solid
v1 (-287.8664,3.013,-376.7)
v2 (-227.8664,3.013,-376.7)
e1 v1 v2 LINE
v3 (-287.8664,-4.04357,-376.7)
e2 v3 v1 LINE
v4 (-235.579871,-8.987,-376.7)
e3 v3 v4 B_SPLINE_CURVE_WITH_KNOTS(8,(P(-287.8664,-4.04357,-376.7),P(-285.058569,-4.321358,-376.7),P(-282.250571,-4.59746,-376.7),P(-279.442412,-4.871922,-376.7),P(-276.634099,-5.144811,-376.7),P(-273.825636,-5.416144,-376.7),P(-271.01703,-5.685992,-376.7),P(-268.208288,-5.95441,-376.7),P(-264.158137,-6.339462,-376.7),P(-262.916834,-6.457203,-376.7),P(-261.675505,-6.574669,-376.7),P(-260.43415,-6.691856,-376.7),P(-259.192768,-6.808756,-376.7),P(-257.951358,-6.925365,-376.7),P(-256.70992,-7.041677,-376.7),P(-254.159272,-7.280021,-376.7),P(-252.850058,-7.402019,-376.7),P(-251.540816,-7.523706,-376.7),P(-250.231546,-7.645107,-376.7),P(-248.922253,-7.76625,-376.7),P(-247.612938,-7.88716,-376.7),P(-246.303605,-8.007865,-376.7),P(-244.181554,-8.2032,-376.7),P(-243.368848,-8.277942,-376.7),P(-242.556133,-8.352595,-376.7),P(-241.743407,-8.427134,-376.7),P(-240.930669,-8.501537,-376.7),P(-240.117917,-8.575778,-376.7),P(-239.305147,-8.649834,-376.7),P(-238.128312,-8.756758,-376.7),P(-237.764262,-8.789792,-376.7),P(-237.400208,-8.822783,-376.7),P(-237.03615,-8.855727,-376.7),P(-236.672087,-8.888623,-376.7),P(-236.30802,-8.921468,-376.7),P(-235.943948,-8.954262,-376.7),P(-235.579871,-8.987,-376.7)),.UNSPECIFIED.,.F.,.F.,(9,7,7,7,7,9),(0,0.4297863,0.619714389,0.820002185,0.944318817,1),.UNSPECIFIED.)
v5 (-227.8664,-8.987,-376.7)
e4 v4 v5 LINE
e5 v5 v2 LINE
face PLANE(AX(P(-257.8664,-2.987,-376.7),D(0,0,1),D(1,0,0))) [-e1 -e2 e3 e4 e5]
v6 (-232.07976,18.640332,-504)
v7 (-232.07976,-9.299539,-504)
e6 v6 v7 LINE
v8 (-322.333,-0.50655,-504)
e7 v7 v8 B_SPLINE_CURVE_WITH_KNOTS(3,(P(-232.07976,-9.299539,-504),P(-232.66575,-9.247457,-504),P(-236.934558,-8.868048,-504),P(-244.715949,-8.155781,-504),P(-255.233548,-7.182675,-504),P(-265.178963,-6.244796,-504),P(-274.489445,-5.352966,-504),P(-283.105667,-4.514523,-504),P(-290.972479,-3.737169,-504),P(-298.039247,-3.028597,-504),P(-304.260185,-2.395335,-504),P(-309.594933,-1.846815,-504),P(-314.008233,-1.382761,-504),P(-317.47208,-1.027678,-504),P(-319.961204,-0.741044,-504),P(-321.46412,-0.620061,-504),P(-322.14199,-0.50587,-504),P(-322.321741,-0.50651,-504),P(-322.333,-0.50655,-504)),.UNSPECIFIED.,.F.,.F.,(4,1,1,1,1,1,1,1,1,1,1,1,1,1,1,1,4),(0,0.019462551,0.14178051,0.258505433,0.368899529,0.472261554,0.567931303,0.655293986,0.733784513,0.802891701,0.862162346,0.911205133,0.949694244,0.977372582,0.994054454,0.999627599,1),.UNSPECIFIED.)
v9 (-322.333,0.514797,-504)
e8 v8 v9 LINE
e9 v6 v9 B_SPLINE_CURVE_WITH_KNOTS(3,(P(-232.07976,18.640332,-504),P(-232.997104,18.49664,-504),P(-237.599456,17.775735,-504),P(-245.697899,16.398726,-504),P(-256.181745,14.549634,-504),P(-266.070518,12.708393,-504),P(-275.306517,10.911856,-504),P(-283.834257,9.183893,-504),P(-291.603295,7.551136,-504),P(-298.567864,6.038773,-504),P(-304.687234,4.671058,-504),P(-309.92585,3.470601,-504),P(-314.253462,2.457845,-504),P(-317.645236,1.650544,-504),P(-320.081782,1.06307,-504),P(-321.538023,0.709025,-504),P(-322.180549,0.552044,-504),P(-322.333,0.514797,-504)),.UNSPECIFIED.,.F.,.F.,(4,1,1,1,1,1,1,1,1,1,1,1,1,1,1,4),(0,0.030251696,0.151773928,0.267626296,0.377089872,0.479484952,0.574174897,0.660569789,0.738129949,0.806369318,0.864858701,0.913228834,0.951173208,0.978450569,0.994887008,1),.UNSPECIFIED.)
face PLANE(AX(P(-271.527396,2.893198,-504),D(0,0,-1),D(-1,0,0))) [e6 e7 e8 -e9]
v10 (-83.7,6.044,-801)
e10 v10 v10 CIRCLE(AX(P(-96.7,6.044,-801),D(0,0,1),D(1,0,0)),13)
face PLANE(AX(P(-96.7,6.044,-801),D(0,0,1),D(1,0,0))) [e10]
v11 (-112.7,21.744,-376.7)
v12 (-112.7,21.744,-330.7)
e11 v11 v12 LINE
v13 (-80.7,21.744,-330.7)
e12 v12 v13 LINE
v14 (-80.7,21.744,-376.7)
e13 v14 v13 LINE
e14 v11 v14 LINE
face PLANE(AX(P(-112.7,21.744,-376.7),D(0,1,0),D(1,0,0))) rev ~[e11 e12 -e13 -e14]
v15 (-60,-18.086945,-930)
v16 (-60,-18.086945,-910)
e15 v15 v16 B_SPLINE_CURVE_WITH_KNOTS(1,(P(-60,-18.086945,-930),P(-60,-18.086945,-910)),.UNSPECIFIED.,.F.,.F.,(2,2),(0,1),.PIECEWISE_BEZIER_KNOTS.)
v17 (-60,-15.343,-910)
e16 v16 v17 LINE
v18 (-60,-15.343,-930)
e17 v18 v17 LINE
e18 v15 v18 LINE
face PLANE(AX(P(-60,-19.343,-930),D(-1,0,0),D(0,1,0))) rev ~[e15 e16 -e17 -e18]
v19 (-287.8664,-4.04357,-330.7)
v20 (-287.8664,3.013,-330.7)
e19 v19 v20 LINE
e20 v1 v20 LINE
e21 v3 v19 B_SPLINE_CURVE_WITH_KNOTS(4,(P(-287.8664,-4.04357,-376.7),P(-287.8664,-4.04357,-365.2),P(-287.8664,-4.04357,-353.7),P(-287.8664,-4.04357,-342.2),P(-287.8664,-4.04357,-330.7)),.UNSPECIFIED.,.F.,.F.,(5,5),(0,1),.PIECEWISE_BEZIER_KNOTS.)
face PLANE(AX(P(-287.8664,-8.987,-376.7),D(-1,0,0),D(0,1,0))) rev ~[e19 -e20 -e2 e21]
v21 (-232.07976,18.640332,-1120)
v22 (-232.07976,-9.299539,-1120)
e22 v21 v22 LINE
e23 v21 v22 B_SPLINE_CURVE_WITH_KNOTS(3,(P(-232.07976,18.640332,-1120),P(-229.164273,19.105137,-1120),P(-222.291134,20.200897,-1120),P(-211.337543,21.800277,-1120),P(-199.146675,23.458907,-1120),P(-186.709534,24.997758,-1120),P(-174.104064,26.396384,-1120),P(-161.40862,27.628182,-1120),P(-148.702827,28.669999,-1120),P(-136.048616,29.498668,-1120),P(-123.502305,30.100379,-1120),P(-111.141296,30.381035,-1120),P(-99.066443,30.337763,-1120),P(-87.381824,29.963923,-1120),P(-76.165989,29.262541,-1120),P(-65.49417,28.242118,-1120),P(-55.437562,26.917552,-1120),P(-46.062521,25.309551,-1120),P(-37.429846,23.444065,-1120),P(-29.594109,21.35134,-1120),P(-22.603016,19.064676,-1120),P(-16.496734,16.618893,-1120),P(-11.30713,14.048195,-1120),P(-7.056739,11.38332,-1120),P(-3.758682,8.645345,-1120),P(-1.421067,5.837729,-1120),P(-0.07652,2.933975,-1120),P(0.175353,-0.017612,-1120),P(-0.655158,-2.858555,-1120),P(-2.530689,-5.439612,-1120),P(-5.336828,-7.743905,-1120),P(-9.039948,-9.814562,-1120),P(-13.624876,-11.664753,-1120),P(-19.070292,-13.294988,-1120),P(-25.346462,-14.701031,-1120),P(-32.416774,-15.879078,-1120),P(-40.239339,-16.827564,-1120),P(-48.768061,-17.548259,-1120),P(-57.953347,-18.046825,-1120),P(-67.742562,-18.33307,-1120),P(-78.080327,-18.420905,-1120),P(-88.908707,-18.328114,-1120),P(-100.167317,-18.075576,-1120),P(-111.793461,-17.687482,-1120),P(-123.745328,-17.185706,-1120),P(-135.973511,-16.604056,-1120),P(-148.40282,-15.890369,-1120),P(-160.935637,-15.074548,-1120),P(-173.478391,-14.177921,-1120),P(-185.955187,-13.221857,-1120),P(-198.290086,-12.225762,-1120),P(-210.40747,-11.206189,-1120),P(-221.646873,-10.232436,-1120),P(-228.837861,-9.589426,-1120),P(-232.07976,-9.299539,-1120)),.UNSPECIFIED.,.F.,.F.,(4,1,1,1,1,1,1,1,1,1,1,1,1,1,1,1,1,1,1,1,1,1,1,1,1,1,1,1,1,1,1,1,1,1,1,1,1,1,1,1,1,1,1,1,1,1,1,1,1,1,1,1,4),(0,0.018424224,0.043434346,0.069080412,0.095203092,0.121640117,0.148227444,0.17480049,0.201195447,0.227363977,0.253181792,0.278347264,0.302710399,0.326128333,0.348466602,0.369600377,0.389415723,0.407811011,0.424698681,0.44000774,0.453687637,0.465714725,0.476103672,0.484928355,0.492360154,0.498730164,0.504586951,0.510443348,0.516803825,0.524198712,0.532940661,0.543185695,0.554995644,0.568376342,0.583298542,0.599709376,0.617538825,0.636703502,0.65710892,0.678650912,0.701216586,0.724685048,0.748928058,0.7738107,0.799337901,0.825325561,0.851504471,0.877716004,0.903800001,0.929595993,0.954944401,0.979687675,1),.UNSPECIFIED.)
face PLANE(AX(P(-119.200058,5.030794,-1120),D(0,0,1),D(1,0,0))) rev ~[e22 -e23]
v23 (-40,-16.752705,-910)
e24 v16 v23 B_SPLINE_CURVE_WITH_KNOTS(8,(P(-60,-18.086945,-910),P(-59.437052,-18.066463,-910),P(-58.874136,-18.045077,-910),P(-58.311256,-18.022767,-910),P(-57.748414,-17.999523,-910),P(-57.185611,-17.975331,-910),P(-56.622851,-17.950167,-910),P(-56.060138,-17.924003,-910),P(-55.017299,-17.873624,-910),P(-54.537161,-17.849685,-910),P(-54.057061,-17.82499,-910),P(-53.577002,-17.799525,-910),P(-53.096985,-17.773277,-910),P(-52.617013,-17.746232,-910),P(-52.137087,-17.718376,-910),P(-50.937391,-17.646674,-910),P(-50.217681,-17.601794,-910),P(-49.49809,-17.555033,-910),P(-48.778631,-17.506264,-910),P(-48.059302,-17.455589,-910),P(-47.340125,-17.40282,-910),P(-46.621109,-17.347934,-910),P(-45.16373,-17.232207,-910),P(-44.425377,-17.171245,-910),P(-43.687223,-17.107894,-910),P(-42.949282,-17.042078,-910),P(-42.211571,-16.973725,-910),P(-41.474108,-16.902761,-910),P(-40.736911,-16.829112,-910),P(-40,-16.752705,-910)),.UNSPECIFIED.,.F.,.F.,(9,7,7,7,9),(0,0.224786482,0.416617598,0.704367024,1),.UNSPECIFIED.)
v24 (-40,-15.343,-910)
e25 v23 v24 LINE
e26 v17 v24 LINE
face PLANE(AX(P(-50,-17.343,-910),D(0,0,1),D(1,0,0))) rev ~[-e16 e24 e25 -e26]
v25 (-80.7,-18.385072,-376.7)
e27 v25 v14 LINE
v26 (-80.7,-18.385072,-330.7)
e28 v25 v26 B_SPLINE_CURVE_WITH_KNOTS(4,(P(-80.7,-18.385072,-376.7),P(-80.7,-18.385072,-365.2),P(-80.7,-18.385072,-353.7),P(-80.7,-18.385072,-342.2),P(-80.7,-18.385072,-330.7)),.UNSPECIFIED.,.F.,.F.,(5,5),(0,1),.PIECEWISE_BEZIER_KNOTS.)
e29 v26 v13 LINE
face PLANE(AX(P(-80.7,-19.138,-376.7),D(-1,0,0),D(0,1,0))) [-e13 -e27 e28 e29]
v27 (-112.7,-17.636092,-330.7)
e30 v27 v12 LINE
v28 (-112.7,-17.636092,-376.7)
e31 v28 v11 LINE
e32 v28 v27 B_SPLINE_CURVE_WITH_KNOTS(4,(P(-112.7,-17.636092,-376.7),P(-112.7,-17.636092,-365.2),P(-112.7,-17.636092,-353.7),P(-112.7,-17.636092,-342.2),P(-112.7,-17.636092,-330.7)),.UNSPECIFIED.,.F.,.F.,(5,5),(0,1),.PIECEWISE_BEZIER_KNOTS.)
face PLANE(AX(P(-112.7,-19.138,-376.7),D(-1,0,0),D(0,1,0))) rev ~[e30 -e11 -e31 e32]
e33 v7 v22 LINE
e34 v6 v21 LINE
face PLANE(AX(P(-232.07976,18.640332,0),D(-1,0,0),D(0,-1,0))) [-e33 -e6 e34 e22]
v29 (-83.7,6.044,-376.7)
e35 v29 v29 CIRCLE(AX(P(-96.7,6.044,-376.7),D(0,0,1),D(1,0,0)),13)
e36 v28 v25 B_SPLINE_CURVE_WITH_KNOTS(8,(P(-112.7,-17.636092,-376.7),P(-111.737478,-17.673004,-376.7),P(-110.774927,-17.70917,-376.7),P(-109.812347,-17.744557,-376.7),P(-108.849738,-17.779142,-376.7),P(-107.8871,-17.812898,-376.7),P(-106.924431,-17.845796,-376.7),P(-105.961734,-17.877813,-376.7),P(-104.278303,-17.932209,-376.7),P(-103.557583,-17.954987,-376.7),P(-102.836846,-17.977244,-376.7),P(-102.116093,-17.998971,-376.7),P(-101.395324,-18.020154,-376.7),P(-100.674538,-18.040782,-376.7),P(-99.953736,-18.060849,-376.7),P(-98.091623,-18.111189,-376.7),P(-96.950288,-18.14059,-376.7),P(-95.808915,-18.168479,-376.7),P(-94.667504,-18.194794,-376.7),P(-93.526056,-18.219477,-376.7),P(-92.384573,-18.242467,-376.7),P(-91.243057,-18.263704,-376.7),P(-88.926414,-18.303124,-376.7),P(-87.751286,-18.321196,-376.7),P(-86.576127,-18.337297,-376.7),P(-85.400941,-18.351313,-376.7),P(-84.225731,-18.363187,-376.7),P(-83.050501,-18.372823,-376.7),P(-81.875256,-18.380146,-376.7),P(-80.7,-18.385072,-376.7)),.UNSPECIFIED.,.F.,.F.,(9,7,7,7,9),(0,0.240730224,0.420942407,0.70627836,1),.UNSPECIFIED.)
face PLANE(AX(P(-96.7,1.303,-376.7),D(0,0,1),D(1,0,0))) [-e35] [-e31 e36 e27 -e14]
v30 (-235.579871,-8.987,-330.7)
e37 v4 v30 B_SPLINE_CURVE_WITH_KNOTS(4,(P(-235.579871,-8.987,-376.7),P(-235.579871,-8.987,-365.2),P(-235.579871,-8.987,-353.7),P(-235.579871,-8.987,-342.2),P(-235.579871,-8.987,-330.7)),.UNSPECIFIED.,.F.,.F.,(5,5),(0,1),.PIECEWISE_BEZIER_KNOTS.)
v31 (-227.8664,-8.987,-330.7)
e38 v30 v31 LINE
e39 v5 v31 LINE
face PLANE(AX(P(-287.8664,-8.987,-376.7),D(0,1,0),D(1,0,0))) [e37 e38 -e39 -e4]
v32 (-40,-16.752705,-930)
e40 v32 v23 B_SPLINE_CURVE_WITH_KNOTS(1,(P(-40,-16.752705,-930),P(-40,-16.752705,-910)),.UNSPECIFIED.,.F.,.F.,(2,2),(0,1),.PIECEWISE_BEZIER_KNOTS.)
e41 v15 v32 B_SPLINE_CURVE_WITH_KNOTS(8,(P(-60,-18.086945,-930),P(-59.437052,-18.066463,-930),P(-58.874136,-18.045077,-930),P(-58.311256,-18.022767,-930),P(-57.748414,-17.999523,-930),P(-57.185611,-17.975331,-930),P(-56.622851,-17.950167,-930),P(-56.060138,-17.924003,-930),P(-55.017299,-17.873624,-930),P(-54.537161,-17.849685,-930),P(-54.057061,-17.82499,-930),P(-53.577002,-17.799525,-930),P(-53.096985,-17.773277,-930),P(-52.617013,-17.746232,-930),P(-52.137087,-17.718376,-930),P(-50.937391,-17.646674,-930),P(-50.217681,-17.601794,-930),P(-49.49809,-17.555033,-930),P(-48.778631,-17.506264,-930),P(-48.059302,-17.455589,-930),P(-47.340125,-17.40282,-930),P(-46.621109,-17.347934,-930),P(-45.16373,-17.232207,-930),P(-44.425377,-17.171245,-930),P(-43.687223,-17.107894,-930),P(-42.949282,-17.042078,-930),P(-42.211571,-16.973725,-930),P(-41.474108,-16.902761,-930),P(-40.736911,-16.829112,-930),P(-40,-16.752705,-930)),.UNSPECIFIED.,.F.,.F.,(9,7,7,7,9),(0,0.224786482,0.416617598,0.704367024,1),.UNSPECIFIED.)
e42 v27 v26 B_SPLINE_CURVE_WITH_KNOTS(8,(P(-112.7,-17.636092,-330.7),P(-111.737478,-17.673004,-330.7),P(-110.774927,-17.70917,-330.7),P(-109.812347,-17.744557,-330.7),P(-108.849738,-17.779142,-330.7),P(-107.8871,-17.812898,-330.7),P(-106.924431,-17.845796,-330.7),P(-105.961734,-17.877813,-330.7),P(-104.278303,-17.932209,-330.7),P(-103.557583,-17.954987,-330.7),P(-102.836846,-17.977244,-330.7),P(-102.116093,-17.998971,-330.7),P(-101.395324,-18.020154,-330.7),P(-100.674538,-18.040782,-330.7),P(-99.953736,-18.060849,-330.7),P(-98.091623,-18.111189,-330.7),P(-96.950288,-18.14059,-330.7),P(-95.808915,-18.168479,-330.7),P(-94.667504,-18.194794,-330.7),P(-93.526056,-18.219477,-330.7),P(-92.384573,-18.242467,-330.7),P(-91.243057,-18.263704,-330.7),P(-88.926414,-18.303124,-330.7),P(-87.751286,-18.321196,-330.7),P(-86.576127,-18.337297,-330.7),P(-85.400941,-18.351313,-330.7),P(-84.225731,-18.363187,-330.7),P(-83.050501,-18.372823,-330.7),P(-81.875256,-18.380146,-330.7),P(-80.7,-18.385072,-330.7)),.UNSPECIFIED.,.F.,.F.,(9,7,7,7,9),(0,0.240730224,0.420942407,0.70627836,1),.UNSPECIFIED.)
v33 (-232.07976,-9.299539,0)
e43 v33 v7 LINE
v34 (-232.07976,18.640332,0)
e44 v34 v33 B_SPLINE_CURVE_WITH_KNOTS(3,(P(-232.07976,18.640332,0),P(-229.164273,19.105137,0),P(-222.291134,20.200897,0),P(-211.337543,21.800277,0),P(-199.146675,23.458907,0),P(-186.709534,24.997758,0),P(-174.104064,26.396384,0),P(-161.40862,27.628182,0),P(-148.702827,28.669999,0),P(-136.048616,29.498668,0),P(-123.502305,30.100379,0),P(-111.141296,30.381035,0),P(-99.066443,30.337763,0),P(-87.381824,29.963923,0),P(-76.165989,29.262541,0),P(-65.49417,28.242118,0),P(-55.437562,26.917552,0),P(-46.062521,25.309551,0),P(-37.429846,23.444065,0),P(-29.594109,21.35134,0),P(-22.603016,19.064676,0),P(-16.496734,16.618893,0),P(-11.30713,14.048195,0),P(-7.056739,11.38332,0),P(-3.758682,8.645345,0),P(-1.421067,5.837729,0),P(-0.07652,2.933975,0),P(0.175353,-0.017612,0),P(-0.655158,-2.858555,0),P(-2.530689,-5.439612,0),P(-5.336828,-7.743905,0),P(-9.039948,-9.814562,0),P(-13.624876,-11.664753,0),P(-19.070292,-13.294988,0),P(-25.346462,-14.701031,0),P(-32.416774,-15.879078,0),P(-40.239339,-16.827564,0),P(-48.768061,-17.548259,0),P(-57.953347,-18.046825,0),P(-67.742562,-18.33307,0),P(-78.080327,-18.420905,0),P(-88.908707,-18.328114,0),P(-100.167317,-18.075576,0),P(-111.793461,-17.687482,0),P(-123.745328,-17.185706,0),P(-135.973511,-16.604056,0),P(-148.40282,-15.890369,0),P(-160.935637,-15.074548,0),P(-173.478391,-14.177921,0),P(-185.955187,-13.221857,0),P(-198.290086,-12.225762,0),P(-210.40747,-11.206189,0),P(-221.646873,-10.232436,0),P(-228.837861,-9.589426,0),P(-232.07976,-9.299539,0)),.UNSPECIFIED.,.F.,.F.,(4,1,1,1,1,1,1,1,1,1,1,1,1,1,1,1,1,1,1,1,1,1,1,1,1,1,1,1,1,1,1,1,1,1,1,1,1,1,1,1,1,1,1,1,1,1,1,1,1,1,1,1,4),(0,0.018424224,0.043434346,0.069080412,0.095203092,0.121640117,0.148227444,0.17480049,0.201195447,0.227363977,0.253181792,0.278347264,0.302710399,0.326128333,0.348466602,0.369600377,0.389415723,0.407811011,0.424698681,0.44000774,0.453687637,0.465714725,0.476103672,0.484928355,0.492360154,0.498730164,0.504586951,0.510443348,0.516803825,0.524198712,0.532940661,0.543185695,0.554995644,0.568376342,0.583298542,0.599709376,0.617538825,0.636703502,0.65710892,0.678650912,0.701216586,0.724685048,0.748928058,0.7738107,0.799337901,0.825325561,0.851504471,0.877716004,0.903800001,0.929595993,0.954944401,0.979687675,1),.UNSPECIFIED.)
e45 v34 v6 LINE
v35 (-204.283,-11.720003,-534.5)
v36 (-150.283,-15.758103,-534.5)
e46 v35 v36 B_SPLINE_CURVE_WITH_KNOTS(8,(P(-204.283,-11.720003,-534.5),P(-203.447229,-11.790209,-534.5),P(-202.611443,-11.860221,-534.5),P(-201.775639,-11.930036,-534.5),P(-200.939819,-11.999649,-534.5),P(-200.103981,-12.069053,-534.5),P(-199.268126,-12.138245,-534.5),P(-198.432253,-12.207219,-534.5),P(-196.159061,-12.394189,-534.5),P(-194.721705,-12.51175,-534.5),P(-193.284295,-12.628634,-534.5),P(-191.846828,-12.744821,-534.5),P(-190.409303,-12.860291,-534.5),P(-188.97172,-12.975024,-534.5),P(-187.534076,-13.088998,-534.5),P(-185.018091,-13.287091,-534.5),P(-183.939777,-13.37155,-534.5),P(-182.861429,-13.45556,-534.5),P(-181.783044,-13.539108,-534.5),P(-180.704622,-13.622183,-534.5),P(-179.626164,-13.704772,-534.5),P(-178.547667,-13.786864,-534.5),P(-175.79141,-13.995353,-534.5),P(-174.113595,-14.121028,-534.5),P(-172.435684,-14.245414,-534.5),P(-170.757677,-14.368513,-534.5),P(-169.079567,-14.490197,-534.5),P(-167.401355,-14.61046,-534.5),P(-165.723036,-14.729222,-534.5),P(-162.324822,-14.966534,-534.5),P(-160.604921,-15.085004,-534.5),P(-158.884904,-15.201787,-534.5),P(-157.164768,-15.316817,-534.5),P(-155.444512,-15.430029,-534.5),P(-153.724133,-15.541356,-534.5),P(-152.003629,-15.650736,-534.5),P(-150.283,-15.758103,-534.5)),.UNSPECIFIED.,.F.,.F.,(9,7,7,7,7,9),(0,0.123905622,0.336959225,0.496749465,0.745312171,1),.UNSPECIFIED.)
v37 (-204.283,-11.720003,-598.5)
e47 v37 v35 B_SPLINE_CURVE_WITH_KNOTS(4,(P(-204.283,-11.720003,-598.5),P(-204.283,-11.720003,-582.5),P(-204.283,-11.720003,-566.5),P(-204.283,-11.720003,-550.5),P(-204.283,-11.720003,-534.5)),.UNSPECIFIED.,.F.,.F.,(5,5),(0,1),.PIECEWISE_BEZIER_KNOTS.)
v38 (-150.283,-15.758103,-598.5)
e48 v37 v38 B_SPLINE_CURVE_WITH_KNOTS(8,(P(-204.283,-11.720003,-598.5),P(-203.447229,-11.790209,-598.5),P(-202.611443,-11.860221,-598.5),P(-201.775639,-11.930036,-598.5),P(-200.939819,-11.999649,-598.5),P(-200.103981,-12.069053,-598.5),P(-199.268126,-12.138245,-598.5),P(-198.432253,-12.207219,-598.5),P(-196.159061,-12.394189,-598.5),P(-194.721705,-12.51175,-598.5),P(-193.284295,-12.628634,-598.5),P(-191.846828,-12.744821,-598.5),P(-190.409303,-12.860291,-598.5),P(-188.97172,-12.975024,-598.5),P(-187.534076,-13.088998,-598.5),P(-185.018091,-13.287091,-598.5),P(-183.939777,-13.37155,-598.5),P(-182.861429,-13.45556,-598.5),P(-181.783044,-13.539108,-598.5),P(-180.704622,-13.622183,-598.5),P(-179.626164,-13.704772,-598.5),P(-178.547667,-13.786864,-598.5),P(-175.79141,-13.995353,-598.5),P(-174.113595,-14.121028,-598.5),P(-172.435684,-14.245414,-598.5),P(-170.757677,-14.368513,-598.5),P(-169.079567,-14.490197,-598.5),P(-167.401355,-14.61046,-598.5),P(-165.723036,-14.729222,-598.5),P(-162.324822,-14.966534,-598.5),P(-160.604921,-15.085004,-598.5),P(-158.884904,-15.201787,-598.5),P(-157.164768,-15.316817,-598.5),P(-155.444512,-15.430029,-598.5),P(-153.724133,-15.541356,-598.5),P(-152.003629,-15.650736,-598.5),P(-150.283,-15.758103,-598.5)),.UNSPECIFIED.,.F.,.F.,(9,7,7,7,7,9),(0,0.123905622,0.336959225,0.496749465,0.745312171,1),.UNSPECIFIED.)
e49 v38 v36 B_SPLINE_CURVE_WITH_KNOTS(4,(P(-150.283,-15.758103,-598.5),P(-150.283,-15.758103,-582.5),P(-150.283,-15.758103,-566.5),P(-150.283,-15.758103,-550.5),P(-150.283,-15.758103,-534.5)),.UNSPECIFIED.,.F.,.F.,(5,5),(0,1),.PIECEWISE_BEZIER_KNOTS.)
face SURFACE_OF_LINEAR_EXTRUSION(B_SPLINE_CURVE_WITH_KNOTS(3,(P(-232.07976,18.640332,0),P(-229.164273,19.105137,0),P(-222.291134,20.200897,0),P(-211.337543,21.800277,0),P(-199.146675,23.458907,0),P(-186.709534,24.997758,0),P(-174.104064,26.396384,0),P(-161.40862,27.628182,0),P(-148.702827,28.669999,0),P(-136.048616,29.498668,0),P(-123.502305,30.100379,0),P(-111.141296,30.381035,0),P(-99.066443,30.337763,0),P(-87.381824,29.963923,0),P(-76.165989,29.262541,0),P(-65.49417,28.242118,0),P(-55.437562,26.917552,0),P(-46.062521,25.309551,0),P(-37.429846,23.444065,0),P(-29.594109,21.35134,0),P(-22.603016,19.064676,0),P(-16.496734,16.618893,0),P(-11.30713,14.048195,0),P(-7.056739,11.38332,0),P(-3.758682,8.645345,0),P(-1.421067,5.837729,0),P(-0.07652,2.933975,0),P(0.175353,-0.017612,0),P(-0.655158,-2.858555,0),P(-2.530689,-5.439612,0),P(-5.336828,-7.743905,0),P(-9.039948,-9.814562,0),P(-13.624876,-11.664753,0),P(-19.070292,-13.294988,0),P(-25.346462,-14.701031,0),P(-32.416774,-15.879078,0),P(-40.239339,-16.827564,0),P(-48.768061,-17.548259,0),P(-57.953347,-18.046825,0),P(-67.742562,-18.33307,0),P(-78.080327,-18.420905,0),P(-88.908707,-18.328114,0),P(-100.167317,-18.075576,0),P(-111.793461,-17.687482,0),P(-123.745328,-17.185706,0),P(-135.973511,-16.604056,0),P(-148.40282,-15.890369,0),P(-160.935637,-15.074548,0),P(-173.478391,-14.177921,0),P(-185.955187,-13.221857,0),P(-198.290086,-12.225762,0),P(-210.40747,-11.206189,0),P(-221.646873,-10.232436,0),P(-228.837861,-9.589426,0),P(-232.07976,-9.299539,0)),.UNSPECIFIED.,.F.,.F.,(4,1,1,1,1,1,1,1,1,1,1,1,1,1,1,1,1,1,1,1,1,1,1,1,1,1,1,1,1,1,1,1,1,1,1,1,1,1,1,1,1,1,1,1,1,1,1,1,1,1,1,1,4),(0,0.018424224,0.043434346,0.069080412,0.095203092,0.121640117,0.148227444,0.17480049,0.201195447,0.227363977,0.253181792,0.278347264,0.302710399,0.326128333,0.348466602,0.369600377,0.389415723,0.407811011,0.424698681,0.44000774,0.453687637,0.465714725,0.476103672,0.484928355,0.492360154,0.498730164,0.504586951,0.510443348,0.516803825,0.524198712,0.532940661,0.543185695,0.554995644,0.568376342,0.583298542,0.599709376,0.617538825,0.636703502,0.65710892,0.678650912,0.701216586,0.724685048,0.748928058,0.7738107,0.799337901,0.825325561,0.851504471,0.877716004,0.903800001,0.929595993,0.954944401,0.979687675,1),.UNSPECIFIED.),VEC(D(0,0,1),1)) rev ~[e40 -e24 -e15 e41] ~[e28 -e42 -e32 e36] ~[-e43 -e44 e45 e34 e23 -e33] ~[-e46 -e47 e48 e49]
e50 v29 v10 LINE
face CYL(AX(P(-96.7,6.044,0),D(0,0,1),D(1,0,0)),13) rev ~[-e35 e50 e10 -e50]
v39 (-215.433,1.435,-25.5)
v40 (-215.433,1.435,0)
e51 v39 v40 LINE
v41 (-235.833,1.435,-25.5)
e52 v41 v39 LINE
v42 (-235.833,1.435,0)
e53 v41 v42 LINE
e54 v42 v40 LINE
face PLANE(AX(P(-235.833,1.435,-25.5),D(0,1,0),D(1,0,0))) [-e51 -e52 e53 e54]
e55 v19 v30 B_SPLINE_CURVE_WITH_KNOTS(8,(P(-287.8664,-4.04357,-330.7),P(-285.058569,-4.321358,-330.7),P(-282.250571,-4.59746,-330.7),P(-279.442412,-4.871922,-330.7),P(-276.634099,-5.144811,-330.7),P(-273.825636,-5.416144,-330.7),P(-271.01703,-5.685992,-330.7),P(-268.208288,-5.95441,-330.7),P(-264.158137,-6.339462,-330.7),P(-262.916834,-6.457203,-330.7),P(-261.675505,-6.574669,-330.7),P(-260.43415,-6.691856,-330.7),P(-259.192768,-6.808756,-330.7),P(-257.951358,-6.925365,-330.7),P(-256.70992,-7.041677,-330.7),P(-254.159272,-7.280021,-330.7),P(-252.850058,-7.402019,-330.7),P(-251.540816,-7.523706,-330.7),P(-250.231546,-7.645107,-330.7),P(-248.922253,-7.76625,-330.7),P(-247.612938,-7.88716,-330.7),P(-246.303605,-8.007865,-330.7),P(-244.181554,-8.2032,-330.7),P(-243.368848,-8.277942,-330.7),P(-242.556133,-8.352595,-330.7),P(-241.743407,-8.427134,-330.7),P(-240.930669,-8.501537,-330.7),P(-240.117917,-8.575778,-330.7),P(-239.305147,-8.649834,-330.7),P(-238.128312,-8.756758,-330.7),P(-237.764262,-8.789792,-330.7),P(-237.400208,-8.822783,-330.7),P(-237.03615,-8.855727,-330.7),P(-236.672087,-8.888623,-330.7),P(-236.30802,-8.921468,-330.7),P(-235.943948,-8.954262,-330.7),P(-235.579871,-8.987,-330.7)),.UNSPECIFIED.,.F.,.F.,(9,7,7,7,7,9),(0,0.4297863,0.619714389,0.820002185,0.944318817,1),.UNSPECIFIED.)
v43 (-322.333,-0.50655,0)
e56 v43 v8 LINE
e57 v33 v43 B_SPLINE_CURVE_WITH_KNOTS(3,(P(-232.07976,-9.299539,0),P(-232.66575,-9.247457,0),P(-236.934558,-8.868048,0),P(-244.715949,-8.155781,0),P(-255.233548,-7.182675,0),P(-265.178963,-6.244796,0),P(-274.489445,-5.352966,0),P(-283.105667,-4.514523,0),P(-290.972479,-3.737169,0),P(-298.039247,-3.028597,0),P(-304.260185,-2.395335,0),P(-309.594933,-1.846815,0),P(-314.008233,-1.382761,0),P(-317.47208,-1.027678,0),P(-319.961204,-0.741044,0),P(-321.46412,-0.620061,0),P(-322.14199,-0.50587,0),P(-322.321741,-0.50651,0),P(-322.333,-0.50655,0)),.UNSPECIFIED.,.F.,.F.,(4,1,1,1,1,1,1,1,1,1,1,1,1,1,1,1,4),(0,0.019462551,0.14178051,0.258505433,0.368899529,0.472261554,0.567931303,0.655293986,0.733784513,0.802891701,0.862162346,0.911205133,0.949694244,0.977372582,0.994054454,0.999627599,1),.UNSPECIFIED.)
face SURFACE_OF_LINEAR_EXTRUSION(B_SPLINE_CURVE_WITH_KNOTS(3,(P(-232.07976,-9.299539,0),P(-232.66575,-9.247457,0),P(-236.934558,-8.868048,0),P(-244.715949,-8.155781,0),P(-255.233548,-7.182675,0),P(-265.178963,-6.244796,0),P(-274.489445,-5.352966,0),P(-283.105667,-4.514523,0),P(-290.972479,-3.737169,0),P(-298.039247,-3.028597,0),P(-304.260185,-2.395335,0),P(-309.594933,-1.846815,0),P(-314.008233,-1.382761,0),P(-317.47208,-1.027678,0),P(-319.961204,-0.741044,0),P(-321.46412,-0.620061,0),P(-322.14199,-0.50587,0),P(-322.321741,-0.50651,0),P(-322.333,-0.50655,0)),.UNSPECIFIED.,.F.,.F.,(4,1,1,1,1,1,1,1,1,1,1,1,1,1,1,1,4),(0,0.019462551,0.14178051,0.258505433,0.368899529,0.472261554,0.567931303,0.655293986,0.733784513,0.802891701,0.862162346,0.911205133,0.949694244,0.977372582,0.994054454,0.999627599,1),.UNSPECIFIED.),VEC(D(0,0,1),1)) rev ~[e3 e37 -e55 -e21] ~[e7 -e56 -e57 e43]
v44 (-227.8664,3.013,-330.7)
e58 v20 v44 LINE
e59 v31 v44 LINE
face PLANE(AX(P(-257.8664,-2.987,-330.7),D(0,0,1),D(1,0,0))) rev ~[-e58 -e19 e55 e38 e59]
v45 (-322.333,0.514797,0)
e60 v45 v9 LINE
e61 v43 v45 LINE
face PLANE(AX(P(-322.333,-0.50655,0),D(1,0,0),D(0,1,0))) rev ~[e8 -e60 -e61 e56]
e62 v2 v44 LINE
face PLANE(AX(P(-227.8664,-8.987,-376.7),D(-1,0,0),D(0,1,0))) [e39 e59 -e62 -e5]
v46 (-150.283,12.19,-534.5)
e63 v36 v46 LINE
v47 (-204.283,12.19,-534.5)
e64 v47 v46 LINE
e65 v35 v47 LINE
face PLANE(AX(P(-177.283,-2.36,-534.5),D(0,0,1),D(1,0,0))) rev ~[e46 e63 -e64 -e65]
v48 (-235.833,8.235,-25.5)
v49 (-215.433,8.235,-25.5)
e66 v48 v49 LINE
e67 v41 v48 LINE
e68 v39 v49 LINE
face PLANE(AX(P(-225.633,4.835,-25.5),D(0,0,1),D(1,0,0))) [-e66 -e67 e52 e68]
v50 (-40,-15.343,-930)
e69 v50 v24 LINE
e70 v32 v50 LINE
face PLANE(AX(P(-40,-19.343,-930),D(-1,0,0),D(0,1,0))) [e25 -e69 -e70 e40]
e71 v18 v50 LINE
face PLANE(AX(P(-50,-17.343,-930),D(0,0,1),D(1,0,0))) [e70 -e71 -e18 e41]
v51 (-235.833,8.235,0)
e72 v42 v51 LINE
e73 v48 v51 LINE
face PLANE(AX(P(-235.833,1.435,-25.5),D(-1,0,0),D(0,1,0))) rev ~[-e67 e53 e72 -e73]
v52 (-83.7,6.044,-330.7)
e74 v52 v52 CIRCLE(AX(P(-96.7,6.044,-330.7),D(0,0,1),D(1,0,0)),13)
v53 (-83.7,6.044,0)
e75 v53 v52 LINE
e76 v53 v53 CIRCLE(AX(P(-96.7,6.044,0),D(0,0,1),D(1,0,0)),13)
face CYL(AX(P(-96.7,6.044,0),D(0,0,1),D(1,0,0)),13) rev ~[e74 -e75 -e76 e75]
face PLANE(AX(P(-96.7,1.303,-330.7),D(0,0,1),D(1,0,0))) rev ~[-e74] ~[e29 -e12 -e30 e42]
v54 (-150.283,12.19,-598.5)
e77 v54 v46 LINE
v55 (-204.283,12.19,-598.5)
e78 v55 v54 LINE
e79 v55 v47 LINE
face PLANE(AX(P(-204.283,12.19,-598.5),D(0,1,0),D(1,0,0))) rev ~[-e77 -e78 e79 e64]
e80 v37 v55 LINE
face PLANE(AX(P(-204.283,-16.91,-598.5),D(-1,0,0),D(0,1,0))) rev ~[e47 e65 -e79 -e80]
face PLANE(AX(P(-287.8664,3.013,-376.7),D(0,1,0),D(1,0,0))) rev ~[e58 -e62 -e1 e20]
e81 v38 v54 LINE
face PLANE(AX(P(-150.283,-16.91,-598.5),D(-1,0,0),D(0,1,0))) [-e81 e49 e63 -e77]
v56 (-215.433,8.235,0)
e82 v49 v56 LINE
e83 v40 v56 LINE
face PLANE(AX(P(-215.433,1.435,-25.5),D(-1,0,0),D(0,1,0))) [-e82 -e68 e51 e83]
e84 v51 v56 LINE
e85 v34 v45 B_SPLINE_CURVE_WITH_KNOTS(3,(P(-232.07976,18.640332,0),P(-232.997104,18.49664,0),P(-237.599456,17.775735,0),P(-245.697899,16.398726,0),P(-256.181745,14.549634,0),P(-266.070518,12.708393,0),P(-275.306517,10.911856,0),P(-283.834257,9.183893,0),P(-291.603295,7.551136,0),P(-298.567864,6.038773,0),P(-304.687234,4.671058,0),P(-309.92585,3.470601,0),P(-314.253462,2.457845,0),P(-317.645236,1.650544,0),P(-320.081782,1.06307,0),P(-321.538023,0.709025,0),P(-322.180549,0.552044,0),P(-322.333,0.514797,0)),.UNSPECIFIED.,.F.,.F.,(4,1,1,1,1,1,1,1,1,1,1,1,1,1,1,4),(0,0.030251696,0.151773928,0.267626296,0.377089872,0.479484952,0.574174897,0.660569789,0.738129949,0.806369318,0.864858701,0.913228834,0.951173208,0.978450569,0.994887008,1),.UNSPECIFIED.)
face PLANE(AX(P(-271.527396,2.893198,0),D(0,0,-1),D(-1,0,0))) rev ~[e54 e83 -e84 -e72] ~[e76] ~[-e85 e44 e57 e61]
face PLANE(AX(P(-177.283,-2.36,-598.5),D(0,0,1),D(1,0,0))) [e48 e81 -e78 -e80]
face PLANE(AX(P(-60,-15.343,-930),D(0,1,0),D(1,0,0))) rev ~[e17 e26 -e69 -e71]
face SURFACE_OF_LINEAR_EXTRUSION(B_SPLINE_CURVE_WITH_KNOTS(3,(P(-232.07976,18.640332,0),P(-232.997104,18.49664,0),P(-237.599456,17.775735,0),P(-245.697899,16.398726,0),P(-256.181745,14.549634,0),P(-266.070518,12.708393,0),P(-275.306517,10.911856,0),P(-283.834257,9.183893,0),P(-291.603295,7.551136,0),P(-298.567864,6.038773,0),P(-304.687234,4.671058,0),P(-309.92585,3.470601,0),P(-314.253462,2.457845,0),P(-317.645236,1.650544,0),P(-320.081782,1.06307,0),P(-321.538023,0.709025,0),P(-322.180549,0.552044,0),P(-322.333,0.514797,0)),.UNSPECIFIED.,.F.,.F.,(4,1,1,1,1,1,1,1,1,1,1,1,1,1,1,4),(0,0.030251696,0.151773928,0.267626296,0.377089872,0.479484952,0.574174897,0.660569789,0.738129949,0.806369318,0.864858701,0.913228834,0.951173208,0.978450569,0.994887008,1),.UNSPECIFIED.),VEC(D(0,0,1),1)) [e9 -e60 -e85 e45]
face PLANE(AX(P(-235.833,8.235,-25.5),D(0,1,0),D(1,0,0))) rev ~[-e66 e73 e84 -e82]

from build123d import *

# Parameters (mm, degrees)
BOSS_EXTRUDE1_DEPTH = 1120
BOSS_EXTRUDE2_DEPTH = 504
SKETCH3_R           = 13
CUT_EXTRUDE1_DEPTH  = 801
SKETCH4_W           = 32
SKETCH4_H           = 40.882
CUT_EXTRUDE2_DEPTH  = 46
SKETCH5_W           = 60
SKETCH5_H           = 12
CUT_EXTRUDE3_DEPTH  = 46
SKETCH6_W           = 54
SKETCH6_H           = 29.1
CUT_EXTRUDE4_DEPTH  = 64
SKETCH7_W           = 20.4
SKETCH7_H           = 6.8
CUT_EXTRUDE5_DEPTH  = 26
SKETCH8_W           = 20
SKETCH8_H           = 4
CUT_EXTRUDE6_DEPTH  = 20


with BuildPart() as part:
    # Sketch1 → Boss-Extrude1 (new body)
    with BuildSketch(Plane.XY):
        with BuildLine():
            Line((-232.07976, 18.640331755), (-232.07976, -9.299539429))
            add(Edge.make_bspline(
                [(-232.07976, 18.640331755), (-229.164273263, 19.105137392), (-222.291133752, 20.200897474), (-211.337542784, 21.800276655), (-199.146674743, 23.458907068), (-186.709533826, 24.99775787), (-174.104063941, 26.396384265), (-161.408619673, 27.628181699), (-148.702826871, 28.669998803), (-136.048616227, 29.498668375), (-123.502304929, 30.100378699), (-111.141296499, 30.381034684), (-99.066442851, 30.337763188), (-87.381824011, 29.96392256), (-76.165988678, 29.262541202), (-65.494170353, 28.242118376), (-55.437562328, 26.917551706), (-46.062520993, 25.309550624), (-37.429846456, 23.444065126), (-29.594109363, 21.3513396), (-22.603015821, 19.064676337), (-16.496733591, 16.618893003), (-11.307130205, 14.048195179), (-7.056738632, 11.383320116), (-3.758682454, 8.645345207), (-1.421067217, 5.837729222), (-0.076519927, 2.93397469), (0.175352503, -0.017611891), (-0.655158047, -2.858555013), (-2.530689177, -5.439611815), (-5.336827593, -7.743904666), (-9.03994776, -9.814562437), (-13.624875961, -11.664753347), (-19.070291538, -13.294987869), (-25.346462309, -14.70103051), (-32.416774291, -15.879078453), (-40.239338685, -16.827563542), (-48.768060709, -17.548259209), (-57.953346605, -18.046825288), (-67.742561923, -18.333070043), (-78.080327008, -18.420905027), (-88.908707336, -18.328114372), (-100.167316867, -18.075575791), (-111.793460515, -17.687481617), (-123.745328455, -17.185705506), (-135.973510615, -16.604056476), (-148.402819763, -15.890368868), (-160.93563744, -15.074548453), (-173.478390843, -14.17792148), (-185.955186825, -13.221857076), (-198.290086365, -12.225761595), (-210.407470499, -11.20618891), (-221.646872664, -10.232436467), (-228.837861155, -9.589426373), (-232.07976, -9.299539429)],
                knots=[0, 0, 0, 0, 0.018424224, 0.043434346, 0.069080412, 0.095203092, 0.121640117, 0.148227444, 0.17480049, 0.201195447, 0.227363977, 0.253181792, 0.278347264, 0.302710399, 0.326128333, 0.348466602, 0.369600377, 0.389415723, 0.407811011, 0.424698681, 0.44000774, 0.453687637, 0.465714725, 0.476103672, 0.484928355, 0.492360154, 0.498730164, 0.504586951, 0.510443348, 0.516803825, 0.524198712, 0.532940661, 0.543185695, 0.554995644, 0.568376342, 0.583298542, 0.599709376, 0.617538825, 0.636703502, 0.65710892, 0.678650912, 0.701216586, 0.724685048, 0.748928058, 0.7738107, 0.799337901, 0.825325561, 0.851504471, 0.877716004, 0.903800001, 0.929595993, 0.954944401, 0.979687675, 1, 1, 1, 1], degree=3))
        make_face()
    extrude(amount=-BOSS_EXTRUDE1_DEPTH)

    # Sketch2 → Boss-Extrude2 (add)
    with BuildSketch(Plane.XY):
        with BuildLine():
            Line((-232.07976, 18.640331755), (-232.07976, -9.299539429))
            add(Edge.make_bspline(
                [(-232.07976, -9.299539429), (-232.665749528, -9.247457079), (-236.934557579, -8.868048329), (-244.715948926, -8.155780655), (-255.233547628, -7.182675415), (-265.178963193, -6.244796096), (-274.489444659, -5.35296602), (-283.105666868, -4.514522896), (-290.972478934, -3.737169374), (-298.039247191, -3.028597089), (-304.260184667, -2.39533485), (-309.594932862, -1.846814612), (-314.008232694, -1.38276071), (-317.472079994, -1.027677658), (-319.961203892, -0.741044399), (-321.464120443, -0.620061141), (-322.14198951, -0.505870173), (-322.321741193, -0.506509982), (-322.333, -0.506550056)],
                knots=[0, 0, 0, 0, 0.019462551, 0.14178051, 0.258505433, 0.368899529, 0.472261554, 0.567931303, 0.655293986, 0.733784513, 0.802891701, 0.862162346, 0.911205133, 0.949694244, 0.977372582, 0.994054454, 0.999627599, 1, 1, 1, 1], degree=3))
            Line((-322.333, -0.506550056), (-322.333, 0.514797488))
            add(Edge.make_bspline(
                [(-232.07976, 18.640331755), (-232.997104276, 18.496640375), (-237.59945591, 17.775735177), (-245.697898879, 16.398726282), (-256.18174484, 14.549633525), (-266.070518156, 12.708392515), (-275.306517101, 10.911856103), (-283.834257123, 9.183893288), (-291.603294753, 7.551136168), (-298.567863892, 6.038773121), (-304.687234469, 4.671058189), (-309.925850109, 3.470601356), (-314.253461721, 2.457844833), (-317.645235976, 1.650544318), (-320.081782459, 1.063070488), (-321.538022536, 0.709024901), (-322.180548986, 0.552044036), (-322.333, 0.514797488)],
                knots=[0, 0, 0, 0, 0.030251696, 0.151773928, 0.267626296, 0.377089872, 0.479484952, 0.574174897, 0.660569789, 0.738129949, 0.806369318, 0.864858701, 0.913228834, 0.951173208, 0.978450569, 0.994887008, 1, 1, 1, 1], degree=3))
        make_face()
    extrude(amount=-BOSS_EXTRUDE2_DEPTH)

    # Sketch3 → Cut-Extrude1 (cut)
    with BuildSketch(Plane.XY):
        with Locations((-96.7, 6.044)):
            Circle(SKETCH3_R)
    extrude(amount=-CUT_EXTRUDE1_DEPTH, mode=Mode.SUBTRACT)

    # Sketch4 → Cut-Extrude2 (cut)
    with BuildSketch(Plane.XY.offset(-376.7)):
        with Locations((-96.7, 1.303)):
            Rectangle(SKETCH4_W, SKETCH4_H)
    extrude(amount=CUT_EXTRUDE2_DEPTH, mode=Mode.SUBTRACT)

    # Sketch5 → Cut-Extrude3 (cut)
    with BuildSketch(Plane.XY.offset(-376.7)):
        with Locations((-257.8664, -2.987)):
            Rectangle(SKETCH5_W, SKETCH5_H)
    extrude(amount=CUT_EXTRUDE3_DEPTH, mode=Mode.SUBTRACT)

    # Sketch6 → Cut-Extrude4 (cut)
    with BuildSketch(Plane.XY.offset(-598.5)):
        with Locations((-177.283, -2.36)):
            Rectangle(SKETCH6_W, SKETCH6_H)
    extrude(amount=CUT_EXTRUDE4_DEPTH, mode=Mode.SUBTRACT)

    # Sketch7 → Cut-Extrude5 (cut)
    with BuildSketch(Plane.XY.offset(-25.5)):
        with Locations((-225.633, 4.835)):
            Rectangle(SKETCH7_W, SKETCH7_H)
    extrude(amount=CUT_EXTRUDE5_DEPTH, mode=Mode.SUBTRACT)

    # Sketch8 → Cut-Extrude6 (cut)
    with BuildSketch(Plane.XY.offset(-930)):
        with Locations((-50, -17.343)):
            Rectangle(SKETCH8_W, SKETCH8_H)
    extrude(amount=CUT_EXTRUDE6_DEPTH, mode=Mode.SUBTRACT)


solid = part.part
